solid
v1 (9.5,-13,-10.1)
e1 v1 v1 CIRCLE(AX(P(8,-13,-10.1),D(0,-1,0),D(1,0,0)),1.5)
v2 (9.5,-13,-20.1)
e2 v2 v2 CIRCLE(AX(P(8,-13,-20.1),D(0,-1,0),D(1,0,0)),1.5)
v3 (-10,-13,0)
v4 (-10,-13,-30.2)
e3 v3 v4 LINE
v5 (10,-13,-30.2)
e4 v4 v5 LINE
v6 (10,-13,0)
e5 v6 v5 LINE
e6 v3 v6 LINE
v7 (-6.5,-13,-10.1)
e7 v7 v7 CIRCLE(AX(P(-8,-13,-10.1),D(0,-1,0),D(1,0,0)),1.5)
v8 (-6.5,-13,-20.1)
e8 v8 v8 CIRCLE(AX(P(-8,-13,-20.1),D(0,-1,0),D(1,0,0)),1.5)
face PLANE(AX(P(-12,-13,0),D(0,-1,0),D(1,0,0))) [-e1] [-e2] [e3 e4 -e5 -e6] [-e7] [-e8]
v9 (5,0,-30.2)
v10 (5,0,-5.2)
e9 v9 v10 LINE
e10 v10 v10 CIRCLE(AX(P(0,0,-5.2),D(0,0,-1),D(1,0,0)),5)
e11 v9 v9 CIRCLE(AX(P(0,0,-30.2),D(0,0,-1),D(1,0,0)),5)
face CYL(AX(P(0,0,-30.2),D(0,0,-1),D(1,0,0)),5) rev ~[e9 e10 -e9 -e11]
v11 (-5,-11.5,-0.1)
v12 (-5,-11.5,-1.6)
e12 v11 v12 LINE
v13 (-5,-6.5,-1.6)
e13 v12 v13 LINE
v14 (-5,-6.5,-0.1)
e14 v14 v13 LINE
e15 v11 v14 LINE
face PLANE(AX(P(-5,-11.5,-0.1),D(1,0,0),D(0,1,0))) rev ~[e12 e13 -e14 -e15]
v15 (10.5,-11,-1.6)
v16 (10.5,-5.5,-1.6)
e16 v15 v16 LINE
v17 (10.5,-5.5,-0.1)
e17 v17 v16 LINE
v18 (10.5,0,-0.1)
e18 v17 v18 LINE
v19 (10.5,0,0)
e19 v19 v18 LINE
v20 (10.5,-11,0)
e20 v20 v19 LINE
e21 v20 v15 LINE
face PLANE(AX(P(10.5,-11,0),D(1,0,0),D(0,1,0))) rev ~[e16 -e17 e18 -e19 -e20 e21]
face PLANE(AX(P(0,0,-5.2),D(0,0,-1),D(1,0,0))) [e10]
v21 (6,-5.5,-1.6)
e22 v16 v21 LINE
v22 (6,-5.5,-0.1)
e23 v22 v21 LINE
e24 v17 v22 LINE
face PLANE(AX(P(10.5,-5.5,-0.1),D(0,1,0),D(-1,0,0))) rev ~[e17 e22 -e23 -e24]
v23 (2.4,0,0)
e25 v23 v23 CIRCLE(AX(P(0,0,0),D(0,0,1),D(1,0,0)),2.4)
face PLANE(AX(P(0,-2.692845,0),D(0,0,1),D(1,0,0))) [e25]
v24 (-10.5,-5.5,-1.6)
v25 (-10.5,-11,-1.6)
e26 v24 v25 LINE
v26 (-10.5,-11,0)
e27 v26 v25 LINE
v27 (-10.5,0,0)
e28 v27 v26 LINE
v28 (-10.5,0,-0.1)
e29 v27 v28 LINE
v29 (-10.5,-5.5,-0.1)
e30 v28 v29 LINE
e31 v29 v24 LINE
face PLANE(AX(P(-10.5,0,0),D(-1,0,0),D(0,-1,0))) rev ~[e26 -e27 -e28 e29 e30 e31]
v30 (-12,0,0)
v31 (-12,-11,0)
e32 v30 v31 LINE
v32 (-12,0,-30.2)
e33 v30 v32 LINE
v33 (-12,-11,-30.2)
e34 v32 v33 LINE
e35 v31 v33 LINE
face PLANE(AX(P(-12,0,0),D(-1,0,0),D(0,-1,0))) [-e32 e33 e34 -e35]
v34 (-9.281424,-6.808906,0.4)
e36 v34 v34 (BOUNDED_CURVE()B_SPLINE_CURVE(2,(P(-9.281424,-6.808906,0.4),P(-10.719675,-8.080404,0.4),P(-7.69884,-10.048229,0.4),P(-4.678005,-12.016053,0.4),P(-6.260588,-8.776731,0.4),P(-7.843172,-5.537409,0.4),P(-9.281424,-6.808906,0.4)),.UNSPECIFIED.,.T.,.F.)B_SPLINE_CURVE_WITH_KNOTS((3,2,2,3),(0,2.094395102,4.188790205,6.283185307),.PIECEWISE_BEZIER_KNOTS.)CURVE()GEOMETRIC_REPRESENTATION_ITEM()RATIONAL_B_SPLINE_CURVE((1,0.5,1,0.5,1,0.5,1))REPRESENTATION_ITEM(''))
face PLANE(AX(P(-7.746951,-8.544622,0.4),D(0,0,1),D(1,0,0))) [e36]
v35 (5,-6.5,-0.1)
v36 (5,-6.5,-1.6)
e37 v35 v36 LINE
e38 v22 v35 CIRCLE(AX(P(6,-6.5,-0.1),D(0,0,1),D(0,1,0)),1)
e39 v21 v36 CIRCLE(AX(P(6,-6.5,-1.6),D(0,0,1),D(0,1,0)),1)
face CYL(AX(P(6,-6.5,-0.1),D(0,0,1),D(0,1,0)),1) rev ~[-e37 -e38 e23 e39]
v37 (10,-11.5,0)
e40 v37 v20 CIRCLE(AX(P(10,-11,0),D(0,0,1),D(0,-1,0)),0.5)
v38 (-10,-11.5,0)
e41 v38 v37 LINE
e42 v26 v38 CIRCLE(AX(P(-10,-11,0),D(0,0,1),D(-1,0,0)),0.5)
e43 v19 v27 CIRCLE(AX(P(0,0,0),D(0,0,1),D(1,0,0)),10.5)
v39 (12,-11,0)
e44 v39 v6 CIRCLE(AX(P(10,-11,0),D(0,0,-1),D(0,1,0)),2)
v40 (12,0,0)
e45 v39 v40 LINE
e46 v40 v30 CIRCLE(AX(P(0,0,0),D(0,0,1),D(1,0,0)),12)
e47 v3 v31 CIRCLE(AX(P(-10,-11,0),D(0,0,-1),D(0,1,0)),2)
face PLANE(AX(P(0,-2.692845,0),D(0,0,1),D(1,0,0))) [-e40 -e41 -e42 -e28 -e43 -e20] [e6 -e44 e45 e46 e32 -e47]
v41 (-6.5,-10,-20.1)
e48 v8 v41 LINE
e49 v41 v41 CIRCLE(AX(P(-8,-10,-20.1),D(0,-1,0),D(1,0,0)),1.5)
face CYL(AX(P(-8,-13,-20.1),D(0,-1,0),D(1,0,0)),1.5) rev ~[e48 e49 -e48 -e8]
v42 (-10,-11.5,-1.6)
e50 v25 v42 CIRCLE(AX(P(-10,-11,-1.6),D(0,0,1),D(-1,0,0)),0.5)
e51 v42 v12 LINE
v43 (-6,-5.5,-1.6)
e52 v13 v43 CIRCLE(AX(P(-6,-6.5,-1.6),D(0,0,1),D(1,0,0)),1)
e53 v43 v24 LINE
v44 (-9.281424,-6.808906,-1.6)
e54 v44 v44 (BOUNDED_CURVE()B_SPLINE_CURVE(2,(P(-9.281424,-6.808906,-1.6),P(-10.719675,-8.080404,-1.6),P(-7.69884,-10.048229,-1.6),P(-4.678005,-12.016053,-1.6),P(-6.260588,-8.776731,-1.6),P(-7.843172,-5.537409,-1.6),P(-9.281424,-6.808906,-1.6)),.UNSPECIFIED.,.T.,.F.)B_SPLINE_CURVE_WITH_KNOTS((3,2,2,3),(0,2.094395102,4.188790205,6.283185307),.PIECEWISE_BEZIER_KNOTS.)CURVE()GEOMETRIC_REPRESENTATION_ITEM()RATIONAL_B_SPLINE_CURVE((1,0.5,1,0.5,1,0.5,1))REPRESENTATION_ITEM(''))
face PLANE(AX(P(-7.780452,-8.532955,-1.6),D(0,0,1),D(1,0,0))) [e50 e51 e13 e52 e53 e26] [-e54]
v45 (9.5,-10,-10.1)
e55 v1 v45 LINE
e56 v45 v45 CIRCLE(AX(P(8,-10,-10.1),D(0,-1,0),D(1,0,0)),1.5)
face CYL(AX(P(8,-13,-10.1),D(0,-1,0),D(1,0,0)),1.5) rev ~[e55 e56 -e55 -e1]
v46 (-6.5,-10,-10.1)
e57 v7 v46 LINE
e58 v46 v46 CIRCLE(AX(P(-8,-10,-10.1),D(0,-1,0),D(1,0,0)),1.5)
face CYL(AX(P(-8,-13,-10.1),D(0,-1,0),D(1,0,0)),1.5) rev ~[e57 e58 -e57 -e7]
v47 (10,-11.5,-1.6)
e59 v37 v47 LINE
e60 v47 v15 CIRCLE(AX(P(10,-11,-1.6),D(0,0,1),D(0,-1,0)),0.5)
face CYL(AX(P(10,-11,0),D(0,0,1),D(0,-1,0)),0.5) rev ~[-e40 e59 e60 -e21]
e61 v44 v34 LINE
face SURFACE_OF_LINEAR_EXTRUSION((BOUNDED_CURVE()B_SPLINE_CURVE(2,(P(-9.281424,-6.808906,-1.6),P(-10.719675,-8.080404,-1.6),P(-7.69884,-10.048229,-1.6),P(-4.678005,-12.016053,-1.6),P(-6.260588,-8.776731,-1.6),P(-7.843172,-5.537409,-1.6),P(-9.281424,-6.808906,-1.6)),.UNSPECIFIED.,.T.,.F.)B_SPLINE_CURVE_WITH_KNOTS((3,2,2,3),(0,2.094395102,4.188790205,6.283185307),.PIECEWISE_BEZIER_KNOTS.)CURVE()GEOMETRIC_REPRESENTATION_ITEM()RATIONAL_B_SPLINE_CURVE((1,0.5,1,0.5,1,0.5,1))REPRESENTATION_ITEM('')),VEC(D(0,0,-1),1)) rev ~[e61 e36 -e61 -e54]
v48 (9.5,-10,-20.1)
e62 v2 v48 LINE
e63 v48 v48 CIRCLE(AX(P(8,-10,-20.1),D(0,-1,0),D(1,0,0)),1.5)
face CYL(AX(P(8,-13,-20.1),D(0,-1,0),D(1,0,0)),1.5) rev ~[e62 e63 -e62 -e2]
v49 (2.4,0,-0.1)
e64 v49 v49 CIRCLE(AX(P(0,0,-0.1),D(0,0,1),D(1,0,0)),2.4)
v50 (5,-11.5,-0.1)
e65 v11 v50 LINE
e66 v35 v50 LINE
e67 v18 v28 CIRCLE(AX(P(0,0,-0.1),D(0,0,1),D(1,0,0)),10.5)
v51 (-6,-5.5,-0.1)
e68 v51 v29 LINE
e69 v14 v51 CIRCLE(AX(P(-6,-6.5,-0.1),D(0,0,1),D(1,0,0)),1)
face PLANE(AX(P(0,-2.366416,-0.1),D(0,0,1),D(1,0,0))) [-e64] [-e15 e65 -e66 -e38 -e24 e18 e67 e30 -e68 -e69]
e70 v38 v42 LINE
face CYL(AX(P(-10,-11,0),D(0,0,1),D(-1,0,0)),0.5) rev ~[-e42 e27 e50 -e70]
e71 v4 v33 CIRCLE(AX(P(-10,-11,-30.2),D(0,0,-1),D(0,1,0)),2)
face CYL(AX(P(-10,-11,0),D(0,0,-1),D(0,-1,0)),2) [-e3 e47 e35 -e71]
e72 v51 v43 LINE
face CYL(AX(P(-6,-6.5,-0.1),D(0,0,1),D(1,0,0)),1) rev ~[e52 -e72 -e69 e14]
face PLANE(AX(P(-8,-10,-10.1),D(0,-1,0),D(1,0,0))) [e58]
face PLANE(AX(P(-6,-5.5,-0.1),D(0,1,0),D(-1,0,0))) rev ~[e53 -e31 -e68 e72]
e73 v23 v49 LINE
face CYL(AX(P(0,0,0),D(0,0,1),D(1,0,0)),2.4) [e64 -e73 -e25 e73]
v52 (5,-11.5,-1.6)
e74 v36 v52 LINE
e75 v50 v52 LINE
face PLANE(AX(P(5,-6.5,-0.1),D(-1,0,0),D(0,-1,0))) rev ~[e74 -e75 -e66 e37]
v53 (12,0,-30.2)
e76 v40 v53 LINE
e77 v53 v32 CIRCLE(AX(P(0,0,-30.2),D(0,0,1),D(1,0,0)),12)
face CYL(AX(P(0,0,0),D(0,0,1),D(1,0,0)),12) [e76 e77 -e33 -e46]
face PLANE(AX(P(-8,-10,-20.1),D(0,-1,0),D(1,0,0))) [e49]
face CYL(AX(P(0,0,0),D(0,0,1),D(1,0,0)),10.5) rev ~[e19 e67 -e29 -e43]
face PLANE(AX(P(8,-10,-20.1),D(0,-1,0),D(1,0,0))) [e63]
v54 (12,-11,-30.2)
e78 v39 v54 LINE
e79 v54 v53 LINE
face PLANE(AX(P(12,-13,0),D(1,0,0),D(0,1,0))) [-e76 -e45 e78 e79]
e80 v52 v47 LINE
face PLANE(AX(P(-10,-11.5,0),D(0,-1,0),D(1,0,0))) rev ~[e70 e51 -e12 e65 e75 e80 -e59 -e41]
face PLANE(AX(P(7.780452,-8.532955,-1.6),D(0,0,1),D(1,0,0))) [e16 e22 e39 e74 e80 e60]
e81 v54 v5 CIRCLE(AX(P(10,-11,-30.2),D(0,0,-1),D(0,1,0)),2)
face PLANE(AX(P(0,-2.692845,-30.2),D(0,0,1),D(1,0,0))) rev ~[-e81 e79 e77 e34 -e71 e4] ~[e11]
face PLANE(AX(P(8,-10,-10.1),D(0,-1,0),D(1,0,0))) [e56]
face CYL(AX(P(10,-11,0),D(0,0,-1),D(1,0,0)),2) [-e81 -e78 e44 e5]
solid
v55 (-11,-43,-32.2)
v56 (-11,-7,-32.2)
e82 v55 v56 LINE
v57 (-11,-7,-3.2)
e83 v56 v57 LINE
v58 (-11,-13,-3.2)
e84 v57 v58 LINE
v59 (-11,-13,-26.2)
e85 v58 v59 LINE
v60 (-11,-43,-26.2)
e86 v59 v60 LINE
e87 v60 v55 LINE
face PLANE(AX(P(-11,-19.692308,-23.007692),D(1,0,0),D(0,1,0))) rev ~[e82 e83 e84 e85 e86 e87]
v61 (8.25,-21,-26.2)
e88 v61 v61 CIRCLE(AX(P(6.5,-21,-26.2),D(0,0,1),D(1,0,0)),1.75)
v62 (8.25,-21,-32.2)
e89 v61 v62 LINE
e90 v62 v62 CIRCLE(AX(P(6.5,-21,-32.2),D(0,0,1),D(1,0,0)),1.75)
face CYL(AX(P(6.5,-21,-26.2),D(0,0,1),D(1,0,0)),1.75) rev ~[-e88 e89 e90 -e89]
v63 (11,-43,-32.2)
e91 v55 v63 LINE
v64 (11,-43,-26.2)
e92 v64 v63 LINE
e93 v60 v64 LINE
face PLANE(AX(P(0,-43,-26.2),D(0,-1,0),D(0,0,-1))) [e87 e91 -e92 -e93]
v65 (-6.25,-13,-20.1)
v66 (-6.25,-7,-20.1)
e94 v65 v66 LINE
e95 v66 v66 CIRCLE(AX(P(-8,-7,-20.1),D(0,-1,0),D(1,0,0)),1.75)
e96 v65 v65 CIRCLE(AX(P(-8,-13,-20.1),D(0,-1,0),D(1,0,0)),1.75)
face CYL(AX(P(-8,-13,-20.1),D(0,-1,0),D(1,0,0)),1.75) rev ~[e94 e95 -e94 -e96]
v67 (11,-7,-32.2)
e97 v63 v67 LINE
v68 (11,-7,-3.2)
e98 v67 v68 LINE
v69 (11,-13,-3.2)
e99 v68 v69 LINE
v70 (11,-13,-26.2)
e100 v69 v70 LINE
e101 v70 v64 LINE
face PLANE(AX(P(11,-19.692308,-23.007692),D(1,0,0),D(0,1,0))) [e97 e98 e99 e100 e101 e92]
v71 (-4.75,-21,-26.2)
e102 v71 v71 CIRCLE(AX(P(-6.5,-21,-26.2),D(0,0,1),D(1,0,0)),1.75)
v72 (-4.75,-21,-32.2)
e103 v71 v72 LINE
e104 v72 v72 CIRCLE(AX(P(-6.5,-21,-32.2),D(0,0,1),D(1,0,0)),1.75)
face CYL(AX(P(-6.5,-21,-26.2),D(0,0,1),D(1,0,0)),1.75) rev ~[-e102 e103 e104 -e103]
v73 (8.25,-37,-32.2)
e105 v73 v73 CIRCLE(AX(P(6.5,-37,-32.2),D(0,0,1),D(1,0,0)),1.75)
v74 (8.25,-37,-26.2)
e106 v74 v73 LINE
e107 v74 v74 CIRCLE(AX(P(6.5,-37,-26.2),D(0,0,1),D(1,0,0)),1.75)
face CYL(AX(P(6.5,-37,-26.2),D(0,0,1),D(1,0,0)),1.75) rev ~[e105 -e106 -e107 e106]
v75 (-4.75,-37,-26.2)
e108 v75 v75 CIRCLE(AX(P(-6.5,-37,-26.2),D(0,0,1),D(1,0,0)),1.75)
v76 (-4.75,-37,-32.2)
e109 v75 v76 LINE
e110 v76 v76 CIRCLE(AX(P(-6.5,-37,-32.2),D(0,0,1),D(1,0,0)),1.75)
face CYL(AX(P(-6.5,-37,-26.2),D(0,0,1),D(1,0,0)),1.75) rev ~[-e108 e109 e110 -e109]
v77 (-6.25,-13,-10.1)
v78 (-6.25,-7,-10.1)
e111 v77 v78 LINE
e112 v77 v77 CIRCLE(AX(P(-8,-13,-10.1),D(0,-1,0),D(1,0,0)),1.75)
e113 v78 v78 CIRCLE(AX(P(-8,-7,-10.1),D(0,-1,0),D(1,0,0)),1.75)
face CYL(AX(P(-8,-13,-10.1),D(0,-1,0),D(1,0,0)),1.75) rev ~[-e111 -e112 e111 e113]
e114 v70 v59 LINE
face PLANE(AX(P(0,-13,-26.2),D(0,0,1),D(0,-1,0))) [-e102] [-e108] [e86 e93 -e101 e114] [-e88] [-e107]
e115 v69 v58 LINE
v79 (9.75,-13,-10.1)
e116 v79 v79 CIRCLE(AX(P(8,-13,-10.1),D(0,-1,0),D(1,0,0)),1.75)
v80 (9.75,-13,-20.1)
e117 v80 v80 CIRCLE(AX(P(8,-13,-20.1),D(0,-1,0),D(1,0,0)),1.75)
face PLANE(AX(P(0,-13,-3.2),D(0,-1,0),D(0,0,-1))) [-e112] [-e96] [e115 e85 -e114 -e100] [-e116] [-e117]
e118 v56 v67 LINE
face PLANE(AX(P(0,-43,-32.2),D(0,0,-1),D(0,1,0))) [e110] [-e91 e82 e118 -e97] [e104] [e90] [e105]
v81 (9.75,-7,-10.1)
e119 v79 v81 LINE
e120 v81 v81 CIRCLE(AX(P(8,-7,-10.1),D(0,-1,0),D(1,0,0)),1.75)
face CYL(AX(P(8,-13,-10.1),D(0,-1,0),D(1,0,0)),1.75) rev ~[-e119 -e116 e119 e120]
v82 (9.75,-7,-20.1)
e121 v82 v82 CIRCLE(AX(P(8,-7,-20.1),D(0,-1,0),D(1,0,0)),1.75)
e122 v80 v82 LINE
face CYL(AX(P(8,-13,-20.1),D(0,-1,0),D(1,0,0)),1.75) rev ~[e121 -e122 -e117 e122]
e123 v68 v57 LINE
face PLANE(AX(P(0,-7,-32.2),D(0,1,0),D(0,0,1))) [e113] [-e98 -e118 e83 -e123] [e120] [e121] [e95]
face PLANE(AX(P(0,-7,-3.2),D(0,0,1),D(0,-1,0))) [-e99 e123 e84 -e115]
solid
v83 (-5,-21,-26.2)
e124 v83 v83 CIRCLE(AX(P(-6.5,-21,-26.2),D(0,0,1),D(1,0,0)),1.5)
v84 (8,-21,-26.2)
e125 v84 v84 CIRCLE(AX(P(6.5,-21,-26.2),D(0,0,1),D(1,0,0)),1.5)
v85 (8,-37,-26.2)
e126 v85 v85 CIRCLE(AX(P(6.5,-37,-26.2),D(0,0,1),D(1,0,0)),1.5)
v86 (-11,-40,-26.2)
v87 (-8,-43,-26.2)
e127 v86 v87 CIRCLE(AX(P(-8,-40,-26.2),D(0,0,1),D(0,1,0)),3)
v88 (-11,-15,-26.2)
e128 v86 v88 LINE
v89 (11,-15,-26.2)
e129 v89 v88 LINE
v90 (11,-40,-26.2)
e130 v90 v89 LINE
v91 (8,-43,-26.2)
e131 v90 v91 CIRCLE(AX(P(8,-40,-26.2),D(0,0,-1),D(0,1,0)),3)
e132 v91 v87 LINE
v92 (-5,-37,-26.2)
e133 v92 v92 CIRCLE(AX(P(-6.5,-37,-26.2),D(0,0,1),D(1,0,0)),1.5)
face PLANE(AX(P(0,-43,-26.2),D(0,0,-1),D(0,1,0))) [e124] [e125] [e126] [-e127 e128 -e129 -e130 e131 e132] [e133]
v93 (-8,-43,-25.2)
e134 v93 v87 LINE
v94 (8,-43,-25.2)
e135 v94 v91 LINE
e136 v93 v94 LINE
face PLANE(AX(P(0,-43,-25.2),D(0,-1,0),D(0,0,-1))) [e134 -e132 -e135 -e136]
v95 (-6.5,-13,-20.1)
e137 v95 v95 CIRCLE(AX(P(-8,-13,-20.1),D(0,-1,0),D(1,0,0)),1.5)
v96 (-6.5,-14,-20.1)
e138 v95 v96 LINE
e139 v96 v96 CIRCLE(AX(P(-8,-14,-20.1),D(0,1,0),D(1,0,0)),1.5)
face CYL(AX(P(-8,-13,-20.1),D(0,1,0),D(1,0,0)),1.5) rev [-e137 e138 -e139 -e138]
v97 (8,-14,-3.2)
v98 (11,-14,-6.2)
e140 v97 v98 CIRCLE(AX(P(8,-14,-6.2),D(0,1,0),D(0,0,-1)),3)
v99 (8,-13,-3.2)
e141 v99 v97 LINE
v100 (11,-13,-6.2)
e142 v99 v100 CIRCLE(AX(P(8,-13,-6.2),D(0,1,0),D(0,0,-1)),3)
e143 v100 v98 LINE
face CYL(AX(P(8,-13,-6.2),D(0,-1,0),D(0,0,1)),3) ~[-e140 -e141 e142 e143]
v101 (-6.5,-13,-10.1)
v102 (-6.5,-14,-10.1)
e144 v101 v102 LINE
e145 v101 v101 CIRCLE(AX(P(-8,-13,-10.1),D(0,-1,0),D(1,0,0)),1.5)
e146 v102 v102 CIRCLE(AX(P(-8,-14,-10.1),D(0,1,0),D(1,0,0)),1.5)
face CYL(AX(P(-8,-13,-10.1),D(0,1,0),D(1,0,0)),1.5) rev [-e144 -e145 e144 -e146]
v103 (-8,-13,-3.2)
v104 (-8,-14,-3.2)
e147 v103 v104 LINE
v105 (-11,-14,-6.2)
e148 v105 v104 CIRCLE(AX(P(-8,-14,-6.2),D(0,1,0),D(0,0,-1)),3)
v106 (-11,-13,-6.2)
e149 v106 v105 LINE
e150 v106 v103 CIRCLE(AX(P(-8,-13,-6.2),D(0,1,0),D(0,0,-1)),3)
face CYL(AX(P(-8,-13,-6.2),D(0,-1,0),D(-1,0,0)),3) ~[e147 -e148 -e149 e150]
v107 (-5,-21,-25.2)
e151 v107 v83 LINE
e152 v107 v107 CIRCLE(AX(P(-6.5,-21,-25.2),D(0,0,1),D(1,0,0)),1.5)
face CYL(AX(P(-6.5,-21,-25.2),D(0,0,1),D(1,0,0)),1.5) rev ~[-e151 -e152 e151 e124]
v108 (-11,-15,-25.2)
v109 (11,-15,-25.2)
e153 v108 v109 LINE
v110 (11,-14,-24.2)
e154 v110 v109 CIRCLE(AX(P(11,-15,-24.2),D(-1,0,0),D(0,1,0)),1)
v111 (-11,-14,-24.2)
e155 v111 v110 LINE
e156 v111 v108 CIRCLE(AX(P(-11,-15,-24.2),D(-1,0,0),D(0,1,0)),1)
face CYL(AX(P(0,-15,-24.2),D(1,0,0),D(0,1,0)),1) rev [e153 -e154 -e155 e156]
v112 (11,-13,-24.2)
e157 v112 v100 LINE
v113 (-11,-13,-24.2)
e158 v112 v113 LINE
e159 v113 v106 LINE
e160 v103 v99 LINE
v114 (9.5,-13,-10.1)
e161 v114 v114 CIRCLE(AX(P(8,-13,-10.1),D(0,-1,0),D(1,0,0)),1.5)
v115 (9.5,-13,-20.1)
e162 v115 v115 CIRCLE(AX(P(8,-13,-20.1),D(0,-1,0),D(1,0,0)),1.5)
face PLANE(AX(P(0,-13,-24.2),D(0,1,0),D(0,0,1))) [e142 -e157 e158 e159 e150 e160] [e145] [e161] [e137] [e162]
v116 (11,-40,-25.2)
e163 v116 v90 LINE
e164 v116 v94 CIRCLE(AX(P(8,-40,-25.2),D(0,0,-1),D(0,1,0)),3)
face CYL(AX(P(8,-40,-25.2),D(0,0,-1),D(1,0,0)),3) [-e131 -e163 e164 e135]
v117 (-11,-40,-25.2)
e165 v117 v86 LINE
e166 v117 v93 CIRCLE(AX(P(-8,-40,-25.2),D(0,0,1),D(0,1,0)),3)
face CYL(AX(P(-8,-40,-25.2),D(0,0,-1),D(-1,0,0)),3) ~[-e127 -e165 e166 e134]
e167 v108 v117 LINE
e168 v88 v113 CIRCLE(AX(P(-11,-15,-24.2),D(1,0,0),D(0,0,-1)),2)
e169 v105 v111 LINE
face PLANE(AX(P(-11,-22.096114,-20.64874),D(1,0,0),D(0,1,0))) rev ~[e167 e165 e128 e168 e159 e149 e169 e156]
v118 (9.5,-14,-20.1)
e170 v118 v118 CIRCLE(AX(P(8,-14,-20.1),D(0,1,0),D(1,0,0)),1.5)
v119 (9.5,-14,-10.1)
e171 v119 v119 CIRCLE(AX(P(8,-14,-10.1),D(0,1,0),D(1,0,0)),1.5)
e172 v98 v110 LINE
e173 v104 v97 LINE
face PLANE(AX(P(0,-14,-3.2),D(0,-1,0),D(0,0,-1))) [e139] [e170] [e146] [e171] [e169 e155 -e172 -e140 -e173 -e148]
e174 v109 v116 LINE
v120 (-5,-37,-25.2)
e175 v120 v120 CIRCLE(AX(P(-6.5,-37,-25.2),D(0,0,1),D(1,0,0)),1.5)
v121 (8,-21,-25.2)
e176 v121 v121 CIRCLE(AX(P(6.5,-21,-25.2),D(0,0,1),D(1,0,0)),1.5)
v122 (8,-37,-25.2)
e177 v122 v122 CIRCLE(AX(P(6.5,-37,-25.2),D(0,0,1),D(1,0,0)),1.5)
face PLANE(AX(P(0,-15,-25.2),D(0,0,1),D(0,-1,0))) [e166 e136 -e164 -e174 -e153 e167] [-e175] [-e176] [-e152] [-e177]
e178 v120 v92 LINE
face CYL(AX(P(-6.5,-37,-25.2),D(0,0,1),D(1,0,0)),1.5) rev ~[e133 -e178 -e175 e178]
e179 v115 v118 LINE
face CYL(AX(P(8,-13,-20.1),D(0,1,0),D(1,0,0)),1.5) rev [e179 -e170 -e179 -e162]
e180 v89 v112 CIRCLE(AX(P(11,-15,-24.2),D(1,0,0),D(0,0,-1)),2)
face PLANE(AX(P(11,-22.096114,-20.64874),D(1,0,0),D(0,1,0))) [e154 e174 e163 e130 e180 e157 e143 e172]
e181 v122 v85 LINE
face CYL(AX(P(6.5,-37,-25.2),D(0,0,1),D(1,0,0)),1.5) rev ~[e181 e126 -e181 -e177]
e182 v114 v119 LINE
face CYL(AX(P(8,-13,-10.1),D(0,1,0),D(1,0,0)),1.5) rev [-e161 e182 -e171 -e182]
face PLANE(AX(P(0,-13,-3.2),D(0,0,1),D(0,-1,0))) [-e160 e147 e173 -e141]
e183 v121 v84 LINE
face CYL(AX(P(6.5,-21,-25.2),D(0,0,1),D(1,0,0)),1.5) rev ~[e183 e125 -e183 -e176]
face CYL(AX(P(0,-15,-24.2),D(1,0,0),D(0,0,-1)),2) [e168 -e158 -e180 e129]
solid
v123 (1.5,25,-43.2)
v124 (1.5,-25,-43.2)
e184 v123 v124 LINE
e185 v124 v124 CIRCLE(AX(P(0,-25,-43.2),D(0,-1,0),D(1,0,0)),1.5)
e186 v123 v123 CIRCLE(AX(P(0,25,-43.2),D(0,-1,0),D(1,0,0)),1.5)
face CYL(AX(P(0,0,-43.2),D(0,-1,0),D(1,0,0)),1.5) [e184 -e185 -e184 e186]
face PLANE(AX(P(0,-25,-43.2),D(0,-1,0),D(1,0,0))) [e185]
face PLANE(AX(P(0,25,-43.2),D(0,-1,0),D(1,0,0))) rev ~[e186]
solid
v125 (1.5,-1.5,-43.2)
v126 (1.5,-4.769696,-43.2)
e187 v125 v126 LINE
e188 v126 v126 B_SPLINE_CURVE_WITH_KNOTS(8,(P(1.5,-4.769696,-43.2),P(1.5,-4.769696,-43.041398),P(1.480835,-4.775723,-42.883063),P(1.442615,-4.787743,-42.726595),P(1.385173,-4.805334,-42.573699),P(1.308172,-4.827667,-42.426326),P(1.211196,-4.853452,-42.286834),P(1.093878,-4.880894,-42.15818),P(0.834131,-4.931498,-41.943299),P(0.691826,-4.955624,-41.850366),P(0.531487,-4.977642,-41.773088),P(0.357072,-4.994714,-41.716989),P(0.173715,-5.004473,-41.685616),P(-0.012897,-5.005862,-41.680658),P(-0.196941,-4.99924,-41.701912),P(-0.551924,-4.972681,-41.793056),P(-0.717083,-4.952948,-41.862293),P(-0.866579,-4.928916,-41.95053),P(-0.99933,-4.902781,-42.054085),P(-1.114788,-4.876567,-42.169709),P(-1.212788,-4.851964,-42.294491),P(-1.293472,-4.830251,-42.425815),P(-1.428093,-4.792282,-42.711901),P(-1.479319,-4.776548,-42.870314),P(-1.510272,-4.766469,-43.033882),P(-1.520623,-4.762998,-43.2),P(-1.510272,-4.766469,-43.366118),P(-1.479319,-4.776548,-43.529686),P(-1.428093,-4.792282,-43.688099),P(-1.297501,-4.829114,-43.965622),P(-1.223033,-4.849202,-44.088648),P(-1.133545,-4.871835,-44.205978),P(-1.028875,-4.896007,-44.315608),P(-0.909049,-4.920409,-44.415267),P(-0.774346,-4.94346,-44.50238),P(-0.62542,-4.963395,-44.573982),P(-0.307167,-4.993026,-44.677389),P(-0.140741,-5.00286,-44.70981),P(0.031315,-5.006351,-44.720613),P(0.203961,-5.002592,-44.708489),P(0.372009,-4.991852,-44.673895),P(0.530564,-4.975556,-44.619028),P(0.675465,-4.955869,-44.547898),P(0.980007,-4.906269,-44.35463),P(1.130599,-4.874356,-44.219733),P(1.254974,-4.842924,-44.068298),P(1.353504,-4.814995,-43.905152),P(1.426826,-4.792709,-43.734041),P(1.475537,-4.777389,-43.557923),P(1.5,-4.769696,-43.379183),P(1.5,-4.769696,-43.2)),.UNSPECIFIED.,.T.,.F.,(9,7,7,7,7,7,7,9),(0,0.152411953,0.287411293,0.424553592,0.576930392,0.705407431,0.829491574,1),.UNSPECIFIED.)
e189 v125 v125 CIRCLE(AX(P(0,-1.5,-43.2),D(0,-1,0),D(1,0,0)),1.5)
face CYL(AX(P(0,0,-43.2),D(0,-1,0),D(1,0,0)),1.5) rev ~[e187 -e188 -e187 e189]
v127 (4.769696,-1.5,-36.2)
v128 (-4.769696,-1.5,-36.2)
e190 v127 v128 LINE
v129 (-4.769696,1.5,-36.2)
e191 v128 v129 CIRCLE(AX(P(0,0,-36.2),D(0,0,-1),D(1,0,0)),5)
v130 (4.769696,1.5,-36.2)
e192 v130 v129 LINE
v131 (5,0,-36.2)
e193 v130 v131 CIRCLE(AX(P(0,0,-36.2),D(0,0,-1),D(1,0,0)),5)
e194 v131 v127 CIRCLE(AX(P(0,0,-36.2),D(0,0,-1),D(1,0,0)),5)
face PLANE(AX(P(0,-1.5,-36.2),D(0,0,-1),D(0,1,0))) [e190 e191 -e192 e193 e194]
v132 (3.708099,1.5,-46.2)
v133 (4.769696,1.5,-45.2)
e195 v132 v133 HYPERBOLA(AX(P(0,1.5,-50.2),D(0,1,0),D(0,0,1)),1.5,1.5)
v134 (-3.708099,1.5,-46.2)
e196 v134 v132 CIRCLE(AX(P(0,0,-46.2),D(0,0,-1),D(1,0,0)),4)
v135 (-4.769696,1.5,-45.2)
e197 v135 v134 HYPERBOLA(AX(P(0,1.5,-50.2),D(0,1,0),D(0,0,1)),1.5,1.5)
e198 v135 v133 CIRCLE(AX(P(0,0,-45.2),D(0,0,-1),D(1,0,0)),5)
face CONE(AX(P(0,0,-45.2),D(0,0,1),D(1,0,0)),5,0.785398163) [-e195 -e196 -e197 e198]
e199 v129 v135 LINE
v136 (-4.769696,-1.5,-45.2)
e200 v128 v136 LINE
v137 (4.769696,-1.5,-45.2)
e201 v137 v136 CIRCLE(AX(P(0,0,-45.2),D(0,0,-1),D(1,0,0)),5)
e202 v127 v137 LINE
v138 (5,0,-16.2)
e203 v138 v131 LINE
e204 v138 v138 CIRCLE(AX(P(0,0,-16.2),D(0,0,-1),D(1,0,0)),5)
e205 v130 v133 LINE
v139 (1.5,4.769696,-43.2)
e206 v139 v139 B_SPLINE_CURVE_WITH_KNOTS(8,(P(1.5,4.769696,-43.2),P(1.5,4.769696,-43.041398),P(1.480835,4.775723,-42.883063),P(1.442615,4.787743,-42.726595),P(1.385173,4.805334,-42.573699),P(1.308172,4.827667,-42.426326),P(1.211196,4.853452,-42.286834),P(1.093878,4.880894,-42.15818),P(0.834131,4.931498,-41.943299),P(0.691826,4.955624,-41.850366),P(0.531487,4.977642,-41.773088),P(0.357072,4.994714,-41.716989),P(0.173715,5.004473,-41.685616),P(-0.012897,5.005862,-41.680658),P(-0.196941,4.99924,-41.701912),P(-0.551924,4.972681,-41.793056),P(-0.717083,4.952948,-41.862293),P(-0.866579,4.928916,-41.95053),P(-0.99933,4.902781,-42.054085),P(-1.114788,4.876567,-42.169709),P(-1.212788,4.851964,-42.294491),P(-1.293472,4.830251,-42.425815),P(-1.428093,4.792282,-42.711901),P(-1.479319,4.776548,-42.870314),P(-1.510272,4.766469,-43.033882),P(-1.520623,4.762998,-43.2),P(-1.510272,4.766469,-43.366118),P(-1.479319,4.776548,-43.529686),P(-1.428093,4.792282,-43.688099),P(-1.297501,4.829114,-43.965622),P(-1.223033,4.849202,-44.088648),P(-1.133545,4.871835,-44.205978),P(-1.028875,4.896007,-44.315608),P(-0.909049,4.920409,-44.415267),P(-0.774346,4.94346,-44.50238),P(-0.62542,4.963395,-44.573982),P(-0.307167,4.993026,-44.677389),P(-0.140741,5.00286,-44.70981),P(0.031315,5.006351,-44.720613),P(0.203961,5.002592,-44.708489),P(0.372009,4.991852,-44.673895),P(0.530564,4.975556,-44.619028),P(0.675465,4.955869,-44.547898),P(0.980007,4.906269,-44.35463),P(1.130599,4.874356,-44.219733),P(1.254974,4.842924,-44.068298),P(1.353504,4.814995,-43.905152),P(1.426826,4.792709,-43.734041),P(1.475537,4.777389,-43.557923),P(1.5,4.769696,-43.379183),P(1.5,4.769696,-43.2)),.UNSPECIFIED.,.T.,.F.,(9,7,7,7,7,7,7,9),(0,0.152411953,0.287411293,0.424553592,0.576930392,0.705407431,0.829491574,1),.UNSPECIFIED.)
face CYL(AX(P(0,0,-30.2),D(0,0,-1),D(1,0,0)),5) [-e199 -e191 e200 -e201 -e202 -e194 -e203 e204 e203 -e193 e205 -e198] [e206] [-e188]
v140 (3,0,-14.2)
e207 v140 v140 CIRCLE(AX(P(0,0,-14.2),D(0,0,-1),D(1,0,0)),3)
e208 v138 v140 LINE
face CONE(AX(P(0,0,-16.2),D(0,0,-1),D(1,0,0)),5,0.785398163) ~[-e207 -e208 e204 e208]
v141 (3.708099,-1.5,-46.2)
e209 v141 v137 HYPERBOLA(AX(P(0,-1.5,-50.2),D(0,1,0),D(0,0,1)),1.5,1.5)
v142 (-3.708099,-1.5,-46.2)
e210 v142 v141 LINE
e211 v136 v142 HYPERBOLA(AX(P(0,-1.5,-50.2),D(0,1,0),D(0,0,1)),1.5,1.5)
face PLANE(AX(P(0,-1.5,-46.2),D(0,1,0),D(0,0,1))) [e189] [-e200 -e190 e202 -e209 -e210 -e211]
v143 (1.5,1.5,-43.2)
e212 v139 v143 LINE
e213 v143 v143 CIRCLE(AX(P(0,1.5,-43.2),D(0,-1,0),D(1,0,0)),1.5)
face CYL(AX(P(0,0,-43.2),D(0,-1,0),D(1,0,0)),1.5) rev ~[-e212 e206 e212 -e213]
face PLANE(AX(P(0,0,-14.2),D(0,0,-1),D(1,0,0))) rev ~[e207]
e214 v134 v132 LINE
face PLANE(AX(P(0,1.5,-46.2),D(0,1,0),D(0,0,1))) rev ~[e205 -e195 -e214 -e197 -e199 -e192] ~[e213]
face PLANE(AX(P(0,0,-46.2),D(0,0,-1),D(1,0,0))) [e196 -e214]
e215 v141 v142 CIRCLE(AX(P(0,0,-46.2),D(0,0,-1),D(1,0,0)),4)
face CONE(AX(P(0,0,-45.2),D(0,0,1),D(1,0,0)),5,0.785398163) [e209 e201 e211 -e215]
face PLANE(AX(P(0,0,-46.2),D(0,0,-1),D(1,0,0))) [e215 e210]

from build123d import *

# Parameters (mm, degrees)
F1_DEPTH  = 30.2
F2_R      = 5
F3_DEPTH  = 25
F4_DEPTH  = 16
F5_R      = 2
F6_SIZE   = 2
F7_SIZE   = 1
F8_W      = 3
F8_H      = 10
F9_DEPTH  = 12.5
F10_R     = 1.5
F11_DEPTH = 12.5
F12_DEPTH = 25
F13_R     = 2.4
F14_DEPTH = 0.1
F16_DEPTH = 1.5
F18_R     = 1.5
F19_DEPTH = 3
F20_DEPTH = 2
F22_DEPTH = 11
F23_DEPTH = 3
F24_R     = 1.5
F25_DEPTH = 25
F26_R     = 3
F28_DEPTH = 11
F29_R     = 1.75
F30_DEPTH = 25
F31_R     = 1.75
F32_DEPTH = 25


with BuildPart() as f1:
    # F0 (on Top) → F1 (new body)
    with BuildSketch(Plane.XY):
        with BuildLine():
            Line((12, -13), (12, 0))
            ThreePointArc((12, 0), (0, 12), (-12, 0))
            Line((-12, 0), (-12, -13))
            Line((-12, -13), (12, -13))
        make_face()
    extrude(amount=-F1_DEPTH)

    # F2 (on face) → F3 (cut)
    with BuildSketch(Plane(origin=(0, 0, -30.2), x_dir=(1, 0, 0), z_dir=(0, 0, -1))):
        Circle(F2_R)
    extrude(amount=-F3_DEPTH, mode=Mode.SUBTRACT)

    # F5
    f5_edges = [f1.edges().sort_by_distance(p)[0] for p in [
        (12, -13, -15.1),
        (-12, -13, -15.1),
    ]]
    fillet(f5_edges, radius=F5_R)

    # F13 (on face) → F14 (cut)
    with BuildSketch(Plane.XY):
        with BuildLine():
            Line((-10.5, 0), (-10.5, -11))
            ThreePointArc((-10.5, -11), (-10.3535533906, -11.3535533906), (-10, -11.5))
            Line((-10, -11.5), (10, -11.5))
            ThreePointArc((10, -11.5), (10.3535533906, -11.3535533906), (10.5, -11))
            Line((10.5, -11), (10.5, 0))
            ThreePointArc((10.5, 0), (0, 10.5), (-10.5, 0))
        make_face()
        Circle(F13_R, mode=Mode.SUBTRACT)
    extrude(amount=-F14_DEPTH, mode=Mode.SUBTRACT)

    # F15 (on face) → F16 (cut)
    with BuildSketch(Plane.XY.offset(-0.1)):
        with BuildLine():
            Line((-5, -11.5), (-5, -6.5))
            ThreePointArc((-5, -6.5), (-5.2928932188, -5.7928932188), (-6, -5.5))
            Line((-6, -5.5), (-10.5, -5.5))
            Line((-10.5, -5.5), (-10.5, -11))
            ThreePointArc((-10.5, -11), (-10.3535533906, -11.3535533906), (-10, -11.5))
            Line((-10, -11.5), (-5, -11.5))
        make_face()
        with BuildLine():
            ThreePointArc((6, -5.5), (5.2928932188, -5.7928932188), (5, -6.5))
            Line((5, -6.5), (5, -11.5))
            Line((5, -11.5), (10, -11.5))
            ThreePointArc((10, -11.5), (10.3535533906, -11.3535533906), (10.5, -11))
            Line((10.5, -11), (10.5, -5.5))
            Line((10.5, -5.5), (6, -5.5))
        make_face()
    extrude(amount=-F16_DEPTH, mode=Mode.SUBTRACT)

    # F18 (on face) → F19 (cut)
    with BuildSketch(Plane.XZ.offset(13)):
        with Locations((-8, -10.1)):
            Circle(F18_R)
        with Locations((8, -10.1)):
            Circle(F18_R)
        with Locations((-8, -20.1)):
            Circle(F18_R)
        with Locations((8, -20.1)):
            Circle(F18_R)
    extrude(amount=-F19_DEPTH, mode=Mode.SUBTRACT)

    # F17 (on face) → F20 (join)
    with BuildSketch(Plane.XY.offset(-1.6)):
        with BuildLine():
            add(Edge.make_bspline(
                [(-9.2814238078, -6.8089063049), (-10.7196754493, -8.0804039659), (-7.6988400017, -10.0482286617), (-4.6780045542, -12.0160533576), (-6.2605883602, -8.7767310007), (-7.8431721663, -5.5374086439), (-9.2814238078, -6.8089063049)],
                knots=[0, 0, 0, 2.0943951024, 2.0943951024, 4.1887902048, 4.1887902048, 6.2831853072, 6.2831853072, 6.2831853072], degree=2, weights=[1, 0.5, 1, 0.5, 1, 0.5, 1]))
        make_face()
    extrude(amount=F20_DEPTH)


with BuildPart() as f4:
    # F2 (on face) → F4 (new body, symmetric)
    with BuildSketch(Plane(origin=(0, 0, -30.2), x_dir=(1, 0, 0), z_dir=(0, 0, -1))):
        Circle(F2_R)
    extrude(amount=F4_DEPTH, both=True)

    # F6
    f6_edges = [f4.edges().sort_by_distance(p)[0] for p in [
        (-5, 0, -14.2),
    ]]
    chamfer(f6_edges, length=F6_SIZE)

    # F7
    f7_edges = [f4.edges().sort_by_distance(p)[0] for p in [
        (-5, 0, -46.2),
    ]]
    chamfer(f7_edges, length=F7_SIZE)

    # F8 (on Right) → F9 (cut, symmetric)
    with BuildSketch(Plane.YZ):
        with Locations((0, -41.2)):
            Rectangle(F8_W, F8_H)
    extrude(amount=F9_DEPTH, both=True, mode=Mode.SUBTRACT)

    # F10 (on Front) → F11 (cut, symmetric)
    with BuildSketch(Plane.XZ):
        with Locations((0, -43.2)):
            Circle(F10_R)
    extrude(amount=F11_DEPTH, both=True, mode=Mode.SUBTRACT)


with BuildPart() as f12:
    # F10 (on Front) → F12 (new body, symmetric)
    with BuildSketch(Plane.XZ):
        with Locations((0, -43.2)):
            Circle(F10_R)
    extrude(amount=F12_DEPTH, both=True)


with BuildPart() as f22:
    # F21 (on Right) → F22 (new body, symmetric)
    with BuildSketch(Plane.YZ):
        with BuildLine():
            Line((-13, -24.2), (-13, -3.2))
            Line((-13, -3.2), (-14, -3.2))
            Line((-14, -3.2), (-14, -24.2))
            ThreePointArc((-14, -24.2), (-14.2928932188, -24.9071067812), (-15, -25.2))
            Line((-15, -25.2), (-43, -25.2))
            Line((-43, -25.2), (-43, -26.2))
            Line((-43, -26.2), (-15, -26.2))
            ThreePointArc((-15, -26.2), (-13.5857864376, -25.6142135624), (-13, -24.2))
        make_face()
    extrude(amount=F22_DEPTH, both=True)

    # F18 (on face) → F23 (cut)
    with BuildSketch(Plane.XZ.offset(13)):
        with Locations((-8, -10.1)):
            Circle(F18_R)
        with Locations((8, -10.1)):
            Circle(F18_R)
        with Locations((-8, -20.1)):
            Circle(F18_R)
        with Locations((8, -20.1)):
            Circle(F18_R)
    extrude(amount=F23_DEPTH, mode=Mode.SUBTRACT)

    # F24 (on face) → F25 (cut)
    with BuildSketch(Plane.XY.offset(-25.2)):
        with Locations((6.5, -21)):
            Circle(F24_R)
        with Locations((6.5, -37)):
            Circle(F24_R)
        with Locations((-6.5, -37)):
            Circle(F24_R)
        with Locations((-6.5, -21)):
            Circle(F24_R)
    extrude(amount=-F25_DEPTH, mode=Mode.SUBTRACT)

    # F26
    f26_edges = [f22.edges().sort_by_distance(p)[0] for p in [
        (-11, -13.5, -3.2),
        (11, -13.5, -3.2),
        (11, -43, -25.7),
        (-11, -43, -25.7),
    ]]
    fillet(f26_edges, radius=F26_R)


with BuildPart() as f28:
    # F27 (on Right) → F28 (new body, symmetric)
    with BuildSketch(Plane.YZ):
        Polygon((-13, -26.2), (-43, -26.2), (-43, -32.2), (-7, -32.2), (-7, -3.2), (-13, -3.2), align=None)
    extrude(amount=F28_DEPTH, both=True)

    # F29 (on face) → F30 (cut)
    with BuildSketch(Plane.XY.offset(-26.2)):
        with Locations((-6.5, -21)):
            Circle(F29_R)
        with Locations((6.5, -21)):
            Circle(F29_R)
        with Locations((-6.5, -37)):
            Circle(F29_R)
        with Locations((6.5, -37)):
            Circle(F29_R)
    extrude(amount=-F30_DEPTH, mode=Mode.SUBTRACT)

    # F31 (on face) → F32 (cut)
    with BuildSketch(Plane.XZ.offset(13)):
        with Locations((-8, -10.1)):
            Circle(F31_R)
        with Locations((8, -10.1)):
            Circle(F31_R)
        with Locations((8, -20.1)):
            Circle(F31_R)
        with Locations((-8, -20.1)):
            Circle(F31_R)
    extrude(amount=-F32_DEPTH, mode=Mode.SUBTRACT)


solid = Compound([f1.part, f4.part, f12.part, f22.part, f28.part])
